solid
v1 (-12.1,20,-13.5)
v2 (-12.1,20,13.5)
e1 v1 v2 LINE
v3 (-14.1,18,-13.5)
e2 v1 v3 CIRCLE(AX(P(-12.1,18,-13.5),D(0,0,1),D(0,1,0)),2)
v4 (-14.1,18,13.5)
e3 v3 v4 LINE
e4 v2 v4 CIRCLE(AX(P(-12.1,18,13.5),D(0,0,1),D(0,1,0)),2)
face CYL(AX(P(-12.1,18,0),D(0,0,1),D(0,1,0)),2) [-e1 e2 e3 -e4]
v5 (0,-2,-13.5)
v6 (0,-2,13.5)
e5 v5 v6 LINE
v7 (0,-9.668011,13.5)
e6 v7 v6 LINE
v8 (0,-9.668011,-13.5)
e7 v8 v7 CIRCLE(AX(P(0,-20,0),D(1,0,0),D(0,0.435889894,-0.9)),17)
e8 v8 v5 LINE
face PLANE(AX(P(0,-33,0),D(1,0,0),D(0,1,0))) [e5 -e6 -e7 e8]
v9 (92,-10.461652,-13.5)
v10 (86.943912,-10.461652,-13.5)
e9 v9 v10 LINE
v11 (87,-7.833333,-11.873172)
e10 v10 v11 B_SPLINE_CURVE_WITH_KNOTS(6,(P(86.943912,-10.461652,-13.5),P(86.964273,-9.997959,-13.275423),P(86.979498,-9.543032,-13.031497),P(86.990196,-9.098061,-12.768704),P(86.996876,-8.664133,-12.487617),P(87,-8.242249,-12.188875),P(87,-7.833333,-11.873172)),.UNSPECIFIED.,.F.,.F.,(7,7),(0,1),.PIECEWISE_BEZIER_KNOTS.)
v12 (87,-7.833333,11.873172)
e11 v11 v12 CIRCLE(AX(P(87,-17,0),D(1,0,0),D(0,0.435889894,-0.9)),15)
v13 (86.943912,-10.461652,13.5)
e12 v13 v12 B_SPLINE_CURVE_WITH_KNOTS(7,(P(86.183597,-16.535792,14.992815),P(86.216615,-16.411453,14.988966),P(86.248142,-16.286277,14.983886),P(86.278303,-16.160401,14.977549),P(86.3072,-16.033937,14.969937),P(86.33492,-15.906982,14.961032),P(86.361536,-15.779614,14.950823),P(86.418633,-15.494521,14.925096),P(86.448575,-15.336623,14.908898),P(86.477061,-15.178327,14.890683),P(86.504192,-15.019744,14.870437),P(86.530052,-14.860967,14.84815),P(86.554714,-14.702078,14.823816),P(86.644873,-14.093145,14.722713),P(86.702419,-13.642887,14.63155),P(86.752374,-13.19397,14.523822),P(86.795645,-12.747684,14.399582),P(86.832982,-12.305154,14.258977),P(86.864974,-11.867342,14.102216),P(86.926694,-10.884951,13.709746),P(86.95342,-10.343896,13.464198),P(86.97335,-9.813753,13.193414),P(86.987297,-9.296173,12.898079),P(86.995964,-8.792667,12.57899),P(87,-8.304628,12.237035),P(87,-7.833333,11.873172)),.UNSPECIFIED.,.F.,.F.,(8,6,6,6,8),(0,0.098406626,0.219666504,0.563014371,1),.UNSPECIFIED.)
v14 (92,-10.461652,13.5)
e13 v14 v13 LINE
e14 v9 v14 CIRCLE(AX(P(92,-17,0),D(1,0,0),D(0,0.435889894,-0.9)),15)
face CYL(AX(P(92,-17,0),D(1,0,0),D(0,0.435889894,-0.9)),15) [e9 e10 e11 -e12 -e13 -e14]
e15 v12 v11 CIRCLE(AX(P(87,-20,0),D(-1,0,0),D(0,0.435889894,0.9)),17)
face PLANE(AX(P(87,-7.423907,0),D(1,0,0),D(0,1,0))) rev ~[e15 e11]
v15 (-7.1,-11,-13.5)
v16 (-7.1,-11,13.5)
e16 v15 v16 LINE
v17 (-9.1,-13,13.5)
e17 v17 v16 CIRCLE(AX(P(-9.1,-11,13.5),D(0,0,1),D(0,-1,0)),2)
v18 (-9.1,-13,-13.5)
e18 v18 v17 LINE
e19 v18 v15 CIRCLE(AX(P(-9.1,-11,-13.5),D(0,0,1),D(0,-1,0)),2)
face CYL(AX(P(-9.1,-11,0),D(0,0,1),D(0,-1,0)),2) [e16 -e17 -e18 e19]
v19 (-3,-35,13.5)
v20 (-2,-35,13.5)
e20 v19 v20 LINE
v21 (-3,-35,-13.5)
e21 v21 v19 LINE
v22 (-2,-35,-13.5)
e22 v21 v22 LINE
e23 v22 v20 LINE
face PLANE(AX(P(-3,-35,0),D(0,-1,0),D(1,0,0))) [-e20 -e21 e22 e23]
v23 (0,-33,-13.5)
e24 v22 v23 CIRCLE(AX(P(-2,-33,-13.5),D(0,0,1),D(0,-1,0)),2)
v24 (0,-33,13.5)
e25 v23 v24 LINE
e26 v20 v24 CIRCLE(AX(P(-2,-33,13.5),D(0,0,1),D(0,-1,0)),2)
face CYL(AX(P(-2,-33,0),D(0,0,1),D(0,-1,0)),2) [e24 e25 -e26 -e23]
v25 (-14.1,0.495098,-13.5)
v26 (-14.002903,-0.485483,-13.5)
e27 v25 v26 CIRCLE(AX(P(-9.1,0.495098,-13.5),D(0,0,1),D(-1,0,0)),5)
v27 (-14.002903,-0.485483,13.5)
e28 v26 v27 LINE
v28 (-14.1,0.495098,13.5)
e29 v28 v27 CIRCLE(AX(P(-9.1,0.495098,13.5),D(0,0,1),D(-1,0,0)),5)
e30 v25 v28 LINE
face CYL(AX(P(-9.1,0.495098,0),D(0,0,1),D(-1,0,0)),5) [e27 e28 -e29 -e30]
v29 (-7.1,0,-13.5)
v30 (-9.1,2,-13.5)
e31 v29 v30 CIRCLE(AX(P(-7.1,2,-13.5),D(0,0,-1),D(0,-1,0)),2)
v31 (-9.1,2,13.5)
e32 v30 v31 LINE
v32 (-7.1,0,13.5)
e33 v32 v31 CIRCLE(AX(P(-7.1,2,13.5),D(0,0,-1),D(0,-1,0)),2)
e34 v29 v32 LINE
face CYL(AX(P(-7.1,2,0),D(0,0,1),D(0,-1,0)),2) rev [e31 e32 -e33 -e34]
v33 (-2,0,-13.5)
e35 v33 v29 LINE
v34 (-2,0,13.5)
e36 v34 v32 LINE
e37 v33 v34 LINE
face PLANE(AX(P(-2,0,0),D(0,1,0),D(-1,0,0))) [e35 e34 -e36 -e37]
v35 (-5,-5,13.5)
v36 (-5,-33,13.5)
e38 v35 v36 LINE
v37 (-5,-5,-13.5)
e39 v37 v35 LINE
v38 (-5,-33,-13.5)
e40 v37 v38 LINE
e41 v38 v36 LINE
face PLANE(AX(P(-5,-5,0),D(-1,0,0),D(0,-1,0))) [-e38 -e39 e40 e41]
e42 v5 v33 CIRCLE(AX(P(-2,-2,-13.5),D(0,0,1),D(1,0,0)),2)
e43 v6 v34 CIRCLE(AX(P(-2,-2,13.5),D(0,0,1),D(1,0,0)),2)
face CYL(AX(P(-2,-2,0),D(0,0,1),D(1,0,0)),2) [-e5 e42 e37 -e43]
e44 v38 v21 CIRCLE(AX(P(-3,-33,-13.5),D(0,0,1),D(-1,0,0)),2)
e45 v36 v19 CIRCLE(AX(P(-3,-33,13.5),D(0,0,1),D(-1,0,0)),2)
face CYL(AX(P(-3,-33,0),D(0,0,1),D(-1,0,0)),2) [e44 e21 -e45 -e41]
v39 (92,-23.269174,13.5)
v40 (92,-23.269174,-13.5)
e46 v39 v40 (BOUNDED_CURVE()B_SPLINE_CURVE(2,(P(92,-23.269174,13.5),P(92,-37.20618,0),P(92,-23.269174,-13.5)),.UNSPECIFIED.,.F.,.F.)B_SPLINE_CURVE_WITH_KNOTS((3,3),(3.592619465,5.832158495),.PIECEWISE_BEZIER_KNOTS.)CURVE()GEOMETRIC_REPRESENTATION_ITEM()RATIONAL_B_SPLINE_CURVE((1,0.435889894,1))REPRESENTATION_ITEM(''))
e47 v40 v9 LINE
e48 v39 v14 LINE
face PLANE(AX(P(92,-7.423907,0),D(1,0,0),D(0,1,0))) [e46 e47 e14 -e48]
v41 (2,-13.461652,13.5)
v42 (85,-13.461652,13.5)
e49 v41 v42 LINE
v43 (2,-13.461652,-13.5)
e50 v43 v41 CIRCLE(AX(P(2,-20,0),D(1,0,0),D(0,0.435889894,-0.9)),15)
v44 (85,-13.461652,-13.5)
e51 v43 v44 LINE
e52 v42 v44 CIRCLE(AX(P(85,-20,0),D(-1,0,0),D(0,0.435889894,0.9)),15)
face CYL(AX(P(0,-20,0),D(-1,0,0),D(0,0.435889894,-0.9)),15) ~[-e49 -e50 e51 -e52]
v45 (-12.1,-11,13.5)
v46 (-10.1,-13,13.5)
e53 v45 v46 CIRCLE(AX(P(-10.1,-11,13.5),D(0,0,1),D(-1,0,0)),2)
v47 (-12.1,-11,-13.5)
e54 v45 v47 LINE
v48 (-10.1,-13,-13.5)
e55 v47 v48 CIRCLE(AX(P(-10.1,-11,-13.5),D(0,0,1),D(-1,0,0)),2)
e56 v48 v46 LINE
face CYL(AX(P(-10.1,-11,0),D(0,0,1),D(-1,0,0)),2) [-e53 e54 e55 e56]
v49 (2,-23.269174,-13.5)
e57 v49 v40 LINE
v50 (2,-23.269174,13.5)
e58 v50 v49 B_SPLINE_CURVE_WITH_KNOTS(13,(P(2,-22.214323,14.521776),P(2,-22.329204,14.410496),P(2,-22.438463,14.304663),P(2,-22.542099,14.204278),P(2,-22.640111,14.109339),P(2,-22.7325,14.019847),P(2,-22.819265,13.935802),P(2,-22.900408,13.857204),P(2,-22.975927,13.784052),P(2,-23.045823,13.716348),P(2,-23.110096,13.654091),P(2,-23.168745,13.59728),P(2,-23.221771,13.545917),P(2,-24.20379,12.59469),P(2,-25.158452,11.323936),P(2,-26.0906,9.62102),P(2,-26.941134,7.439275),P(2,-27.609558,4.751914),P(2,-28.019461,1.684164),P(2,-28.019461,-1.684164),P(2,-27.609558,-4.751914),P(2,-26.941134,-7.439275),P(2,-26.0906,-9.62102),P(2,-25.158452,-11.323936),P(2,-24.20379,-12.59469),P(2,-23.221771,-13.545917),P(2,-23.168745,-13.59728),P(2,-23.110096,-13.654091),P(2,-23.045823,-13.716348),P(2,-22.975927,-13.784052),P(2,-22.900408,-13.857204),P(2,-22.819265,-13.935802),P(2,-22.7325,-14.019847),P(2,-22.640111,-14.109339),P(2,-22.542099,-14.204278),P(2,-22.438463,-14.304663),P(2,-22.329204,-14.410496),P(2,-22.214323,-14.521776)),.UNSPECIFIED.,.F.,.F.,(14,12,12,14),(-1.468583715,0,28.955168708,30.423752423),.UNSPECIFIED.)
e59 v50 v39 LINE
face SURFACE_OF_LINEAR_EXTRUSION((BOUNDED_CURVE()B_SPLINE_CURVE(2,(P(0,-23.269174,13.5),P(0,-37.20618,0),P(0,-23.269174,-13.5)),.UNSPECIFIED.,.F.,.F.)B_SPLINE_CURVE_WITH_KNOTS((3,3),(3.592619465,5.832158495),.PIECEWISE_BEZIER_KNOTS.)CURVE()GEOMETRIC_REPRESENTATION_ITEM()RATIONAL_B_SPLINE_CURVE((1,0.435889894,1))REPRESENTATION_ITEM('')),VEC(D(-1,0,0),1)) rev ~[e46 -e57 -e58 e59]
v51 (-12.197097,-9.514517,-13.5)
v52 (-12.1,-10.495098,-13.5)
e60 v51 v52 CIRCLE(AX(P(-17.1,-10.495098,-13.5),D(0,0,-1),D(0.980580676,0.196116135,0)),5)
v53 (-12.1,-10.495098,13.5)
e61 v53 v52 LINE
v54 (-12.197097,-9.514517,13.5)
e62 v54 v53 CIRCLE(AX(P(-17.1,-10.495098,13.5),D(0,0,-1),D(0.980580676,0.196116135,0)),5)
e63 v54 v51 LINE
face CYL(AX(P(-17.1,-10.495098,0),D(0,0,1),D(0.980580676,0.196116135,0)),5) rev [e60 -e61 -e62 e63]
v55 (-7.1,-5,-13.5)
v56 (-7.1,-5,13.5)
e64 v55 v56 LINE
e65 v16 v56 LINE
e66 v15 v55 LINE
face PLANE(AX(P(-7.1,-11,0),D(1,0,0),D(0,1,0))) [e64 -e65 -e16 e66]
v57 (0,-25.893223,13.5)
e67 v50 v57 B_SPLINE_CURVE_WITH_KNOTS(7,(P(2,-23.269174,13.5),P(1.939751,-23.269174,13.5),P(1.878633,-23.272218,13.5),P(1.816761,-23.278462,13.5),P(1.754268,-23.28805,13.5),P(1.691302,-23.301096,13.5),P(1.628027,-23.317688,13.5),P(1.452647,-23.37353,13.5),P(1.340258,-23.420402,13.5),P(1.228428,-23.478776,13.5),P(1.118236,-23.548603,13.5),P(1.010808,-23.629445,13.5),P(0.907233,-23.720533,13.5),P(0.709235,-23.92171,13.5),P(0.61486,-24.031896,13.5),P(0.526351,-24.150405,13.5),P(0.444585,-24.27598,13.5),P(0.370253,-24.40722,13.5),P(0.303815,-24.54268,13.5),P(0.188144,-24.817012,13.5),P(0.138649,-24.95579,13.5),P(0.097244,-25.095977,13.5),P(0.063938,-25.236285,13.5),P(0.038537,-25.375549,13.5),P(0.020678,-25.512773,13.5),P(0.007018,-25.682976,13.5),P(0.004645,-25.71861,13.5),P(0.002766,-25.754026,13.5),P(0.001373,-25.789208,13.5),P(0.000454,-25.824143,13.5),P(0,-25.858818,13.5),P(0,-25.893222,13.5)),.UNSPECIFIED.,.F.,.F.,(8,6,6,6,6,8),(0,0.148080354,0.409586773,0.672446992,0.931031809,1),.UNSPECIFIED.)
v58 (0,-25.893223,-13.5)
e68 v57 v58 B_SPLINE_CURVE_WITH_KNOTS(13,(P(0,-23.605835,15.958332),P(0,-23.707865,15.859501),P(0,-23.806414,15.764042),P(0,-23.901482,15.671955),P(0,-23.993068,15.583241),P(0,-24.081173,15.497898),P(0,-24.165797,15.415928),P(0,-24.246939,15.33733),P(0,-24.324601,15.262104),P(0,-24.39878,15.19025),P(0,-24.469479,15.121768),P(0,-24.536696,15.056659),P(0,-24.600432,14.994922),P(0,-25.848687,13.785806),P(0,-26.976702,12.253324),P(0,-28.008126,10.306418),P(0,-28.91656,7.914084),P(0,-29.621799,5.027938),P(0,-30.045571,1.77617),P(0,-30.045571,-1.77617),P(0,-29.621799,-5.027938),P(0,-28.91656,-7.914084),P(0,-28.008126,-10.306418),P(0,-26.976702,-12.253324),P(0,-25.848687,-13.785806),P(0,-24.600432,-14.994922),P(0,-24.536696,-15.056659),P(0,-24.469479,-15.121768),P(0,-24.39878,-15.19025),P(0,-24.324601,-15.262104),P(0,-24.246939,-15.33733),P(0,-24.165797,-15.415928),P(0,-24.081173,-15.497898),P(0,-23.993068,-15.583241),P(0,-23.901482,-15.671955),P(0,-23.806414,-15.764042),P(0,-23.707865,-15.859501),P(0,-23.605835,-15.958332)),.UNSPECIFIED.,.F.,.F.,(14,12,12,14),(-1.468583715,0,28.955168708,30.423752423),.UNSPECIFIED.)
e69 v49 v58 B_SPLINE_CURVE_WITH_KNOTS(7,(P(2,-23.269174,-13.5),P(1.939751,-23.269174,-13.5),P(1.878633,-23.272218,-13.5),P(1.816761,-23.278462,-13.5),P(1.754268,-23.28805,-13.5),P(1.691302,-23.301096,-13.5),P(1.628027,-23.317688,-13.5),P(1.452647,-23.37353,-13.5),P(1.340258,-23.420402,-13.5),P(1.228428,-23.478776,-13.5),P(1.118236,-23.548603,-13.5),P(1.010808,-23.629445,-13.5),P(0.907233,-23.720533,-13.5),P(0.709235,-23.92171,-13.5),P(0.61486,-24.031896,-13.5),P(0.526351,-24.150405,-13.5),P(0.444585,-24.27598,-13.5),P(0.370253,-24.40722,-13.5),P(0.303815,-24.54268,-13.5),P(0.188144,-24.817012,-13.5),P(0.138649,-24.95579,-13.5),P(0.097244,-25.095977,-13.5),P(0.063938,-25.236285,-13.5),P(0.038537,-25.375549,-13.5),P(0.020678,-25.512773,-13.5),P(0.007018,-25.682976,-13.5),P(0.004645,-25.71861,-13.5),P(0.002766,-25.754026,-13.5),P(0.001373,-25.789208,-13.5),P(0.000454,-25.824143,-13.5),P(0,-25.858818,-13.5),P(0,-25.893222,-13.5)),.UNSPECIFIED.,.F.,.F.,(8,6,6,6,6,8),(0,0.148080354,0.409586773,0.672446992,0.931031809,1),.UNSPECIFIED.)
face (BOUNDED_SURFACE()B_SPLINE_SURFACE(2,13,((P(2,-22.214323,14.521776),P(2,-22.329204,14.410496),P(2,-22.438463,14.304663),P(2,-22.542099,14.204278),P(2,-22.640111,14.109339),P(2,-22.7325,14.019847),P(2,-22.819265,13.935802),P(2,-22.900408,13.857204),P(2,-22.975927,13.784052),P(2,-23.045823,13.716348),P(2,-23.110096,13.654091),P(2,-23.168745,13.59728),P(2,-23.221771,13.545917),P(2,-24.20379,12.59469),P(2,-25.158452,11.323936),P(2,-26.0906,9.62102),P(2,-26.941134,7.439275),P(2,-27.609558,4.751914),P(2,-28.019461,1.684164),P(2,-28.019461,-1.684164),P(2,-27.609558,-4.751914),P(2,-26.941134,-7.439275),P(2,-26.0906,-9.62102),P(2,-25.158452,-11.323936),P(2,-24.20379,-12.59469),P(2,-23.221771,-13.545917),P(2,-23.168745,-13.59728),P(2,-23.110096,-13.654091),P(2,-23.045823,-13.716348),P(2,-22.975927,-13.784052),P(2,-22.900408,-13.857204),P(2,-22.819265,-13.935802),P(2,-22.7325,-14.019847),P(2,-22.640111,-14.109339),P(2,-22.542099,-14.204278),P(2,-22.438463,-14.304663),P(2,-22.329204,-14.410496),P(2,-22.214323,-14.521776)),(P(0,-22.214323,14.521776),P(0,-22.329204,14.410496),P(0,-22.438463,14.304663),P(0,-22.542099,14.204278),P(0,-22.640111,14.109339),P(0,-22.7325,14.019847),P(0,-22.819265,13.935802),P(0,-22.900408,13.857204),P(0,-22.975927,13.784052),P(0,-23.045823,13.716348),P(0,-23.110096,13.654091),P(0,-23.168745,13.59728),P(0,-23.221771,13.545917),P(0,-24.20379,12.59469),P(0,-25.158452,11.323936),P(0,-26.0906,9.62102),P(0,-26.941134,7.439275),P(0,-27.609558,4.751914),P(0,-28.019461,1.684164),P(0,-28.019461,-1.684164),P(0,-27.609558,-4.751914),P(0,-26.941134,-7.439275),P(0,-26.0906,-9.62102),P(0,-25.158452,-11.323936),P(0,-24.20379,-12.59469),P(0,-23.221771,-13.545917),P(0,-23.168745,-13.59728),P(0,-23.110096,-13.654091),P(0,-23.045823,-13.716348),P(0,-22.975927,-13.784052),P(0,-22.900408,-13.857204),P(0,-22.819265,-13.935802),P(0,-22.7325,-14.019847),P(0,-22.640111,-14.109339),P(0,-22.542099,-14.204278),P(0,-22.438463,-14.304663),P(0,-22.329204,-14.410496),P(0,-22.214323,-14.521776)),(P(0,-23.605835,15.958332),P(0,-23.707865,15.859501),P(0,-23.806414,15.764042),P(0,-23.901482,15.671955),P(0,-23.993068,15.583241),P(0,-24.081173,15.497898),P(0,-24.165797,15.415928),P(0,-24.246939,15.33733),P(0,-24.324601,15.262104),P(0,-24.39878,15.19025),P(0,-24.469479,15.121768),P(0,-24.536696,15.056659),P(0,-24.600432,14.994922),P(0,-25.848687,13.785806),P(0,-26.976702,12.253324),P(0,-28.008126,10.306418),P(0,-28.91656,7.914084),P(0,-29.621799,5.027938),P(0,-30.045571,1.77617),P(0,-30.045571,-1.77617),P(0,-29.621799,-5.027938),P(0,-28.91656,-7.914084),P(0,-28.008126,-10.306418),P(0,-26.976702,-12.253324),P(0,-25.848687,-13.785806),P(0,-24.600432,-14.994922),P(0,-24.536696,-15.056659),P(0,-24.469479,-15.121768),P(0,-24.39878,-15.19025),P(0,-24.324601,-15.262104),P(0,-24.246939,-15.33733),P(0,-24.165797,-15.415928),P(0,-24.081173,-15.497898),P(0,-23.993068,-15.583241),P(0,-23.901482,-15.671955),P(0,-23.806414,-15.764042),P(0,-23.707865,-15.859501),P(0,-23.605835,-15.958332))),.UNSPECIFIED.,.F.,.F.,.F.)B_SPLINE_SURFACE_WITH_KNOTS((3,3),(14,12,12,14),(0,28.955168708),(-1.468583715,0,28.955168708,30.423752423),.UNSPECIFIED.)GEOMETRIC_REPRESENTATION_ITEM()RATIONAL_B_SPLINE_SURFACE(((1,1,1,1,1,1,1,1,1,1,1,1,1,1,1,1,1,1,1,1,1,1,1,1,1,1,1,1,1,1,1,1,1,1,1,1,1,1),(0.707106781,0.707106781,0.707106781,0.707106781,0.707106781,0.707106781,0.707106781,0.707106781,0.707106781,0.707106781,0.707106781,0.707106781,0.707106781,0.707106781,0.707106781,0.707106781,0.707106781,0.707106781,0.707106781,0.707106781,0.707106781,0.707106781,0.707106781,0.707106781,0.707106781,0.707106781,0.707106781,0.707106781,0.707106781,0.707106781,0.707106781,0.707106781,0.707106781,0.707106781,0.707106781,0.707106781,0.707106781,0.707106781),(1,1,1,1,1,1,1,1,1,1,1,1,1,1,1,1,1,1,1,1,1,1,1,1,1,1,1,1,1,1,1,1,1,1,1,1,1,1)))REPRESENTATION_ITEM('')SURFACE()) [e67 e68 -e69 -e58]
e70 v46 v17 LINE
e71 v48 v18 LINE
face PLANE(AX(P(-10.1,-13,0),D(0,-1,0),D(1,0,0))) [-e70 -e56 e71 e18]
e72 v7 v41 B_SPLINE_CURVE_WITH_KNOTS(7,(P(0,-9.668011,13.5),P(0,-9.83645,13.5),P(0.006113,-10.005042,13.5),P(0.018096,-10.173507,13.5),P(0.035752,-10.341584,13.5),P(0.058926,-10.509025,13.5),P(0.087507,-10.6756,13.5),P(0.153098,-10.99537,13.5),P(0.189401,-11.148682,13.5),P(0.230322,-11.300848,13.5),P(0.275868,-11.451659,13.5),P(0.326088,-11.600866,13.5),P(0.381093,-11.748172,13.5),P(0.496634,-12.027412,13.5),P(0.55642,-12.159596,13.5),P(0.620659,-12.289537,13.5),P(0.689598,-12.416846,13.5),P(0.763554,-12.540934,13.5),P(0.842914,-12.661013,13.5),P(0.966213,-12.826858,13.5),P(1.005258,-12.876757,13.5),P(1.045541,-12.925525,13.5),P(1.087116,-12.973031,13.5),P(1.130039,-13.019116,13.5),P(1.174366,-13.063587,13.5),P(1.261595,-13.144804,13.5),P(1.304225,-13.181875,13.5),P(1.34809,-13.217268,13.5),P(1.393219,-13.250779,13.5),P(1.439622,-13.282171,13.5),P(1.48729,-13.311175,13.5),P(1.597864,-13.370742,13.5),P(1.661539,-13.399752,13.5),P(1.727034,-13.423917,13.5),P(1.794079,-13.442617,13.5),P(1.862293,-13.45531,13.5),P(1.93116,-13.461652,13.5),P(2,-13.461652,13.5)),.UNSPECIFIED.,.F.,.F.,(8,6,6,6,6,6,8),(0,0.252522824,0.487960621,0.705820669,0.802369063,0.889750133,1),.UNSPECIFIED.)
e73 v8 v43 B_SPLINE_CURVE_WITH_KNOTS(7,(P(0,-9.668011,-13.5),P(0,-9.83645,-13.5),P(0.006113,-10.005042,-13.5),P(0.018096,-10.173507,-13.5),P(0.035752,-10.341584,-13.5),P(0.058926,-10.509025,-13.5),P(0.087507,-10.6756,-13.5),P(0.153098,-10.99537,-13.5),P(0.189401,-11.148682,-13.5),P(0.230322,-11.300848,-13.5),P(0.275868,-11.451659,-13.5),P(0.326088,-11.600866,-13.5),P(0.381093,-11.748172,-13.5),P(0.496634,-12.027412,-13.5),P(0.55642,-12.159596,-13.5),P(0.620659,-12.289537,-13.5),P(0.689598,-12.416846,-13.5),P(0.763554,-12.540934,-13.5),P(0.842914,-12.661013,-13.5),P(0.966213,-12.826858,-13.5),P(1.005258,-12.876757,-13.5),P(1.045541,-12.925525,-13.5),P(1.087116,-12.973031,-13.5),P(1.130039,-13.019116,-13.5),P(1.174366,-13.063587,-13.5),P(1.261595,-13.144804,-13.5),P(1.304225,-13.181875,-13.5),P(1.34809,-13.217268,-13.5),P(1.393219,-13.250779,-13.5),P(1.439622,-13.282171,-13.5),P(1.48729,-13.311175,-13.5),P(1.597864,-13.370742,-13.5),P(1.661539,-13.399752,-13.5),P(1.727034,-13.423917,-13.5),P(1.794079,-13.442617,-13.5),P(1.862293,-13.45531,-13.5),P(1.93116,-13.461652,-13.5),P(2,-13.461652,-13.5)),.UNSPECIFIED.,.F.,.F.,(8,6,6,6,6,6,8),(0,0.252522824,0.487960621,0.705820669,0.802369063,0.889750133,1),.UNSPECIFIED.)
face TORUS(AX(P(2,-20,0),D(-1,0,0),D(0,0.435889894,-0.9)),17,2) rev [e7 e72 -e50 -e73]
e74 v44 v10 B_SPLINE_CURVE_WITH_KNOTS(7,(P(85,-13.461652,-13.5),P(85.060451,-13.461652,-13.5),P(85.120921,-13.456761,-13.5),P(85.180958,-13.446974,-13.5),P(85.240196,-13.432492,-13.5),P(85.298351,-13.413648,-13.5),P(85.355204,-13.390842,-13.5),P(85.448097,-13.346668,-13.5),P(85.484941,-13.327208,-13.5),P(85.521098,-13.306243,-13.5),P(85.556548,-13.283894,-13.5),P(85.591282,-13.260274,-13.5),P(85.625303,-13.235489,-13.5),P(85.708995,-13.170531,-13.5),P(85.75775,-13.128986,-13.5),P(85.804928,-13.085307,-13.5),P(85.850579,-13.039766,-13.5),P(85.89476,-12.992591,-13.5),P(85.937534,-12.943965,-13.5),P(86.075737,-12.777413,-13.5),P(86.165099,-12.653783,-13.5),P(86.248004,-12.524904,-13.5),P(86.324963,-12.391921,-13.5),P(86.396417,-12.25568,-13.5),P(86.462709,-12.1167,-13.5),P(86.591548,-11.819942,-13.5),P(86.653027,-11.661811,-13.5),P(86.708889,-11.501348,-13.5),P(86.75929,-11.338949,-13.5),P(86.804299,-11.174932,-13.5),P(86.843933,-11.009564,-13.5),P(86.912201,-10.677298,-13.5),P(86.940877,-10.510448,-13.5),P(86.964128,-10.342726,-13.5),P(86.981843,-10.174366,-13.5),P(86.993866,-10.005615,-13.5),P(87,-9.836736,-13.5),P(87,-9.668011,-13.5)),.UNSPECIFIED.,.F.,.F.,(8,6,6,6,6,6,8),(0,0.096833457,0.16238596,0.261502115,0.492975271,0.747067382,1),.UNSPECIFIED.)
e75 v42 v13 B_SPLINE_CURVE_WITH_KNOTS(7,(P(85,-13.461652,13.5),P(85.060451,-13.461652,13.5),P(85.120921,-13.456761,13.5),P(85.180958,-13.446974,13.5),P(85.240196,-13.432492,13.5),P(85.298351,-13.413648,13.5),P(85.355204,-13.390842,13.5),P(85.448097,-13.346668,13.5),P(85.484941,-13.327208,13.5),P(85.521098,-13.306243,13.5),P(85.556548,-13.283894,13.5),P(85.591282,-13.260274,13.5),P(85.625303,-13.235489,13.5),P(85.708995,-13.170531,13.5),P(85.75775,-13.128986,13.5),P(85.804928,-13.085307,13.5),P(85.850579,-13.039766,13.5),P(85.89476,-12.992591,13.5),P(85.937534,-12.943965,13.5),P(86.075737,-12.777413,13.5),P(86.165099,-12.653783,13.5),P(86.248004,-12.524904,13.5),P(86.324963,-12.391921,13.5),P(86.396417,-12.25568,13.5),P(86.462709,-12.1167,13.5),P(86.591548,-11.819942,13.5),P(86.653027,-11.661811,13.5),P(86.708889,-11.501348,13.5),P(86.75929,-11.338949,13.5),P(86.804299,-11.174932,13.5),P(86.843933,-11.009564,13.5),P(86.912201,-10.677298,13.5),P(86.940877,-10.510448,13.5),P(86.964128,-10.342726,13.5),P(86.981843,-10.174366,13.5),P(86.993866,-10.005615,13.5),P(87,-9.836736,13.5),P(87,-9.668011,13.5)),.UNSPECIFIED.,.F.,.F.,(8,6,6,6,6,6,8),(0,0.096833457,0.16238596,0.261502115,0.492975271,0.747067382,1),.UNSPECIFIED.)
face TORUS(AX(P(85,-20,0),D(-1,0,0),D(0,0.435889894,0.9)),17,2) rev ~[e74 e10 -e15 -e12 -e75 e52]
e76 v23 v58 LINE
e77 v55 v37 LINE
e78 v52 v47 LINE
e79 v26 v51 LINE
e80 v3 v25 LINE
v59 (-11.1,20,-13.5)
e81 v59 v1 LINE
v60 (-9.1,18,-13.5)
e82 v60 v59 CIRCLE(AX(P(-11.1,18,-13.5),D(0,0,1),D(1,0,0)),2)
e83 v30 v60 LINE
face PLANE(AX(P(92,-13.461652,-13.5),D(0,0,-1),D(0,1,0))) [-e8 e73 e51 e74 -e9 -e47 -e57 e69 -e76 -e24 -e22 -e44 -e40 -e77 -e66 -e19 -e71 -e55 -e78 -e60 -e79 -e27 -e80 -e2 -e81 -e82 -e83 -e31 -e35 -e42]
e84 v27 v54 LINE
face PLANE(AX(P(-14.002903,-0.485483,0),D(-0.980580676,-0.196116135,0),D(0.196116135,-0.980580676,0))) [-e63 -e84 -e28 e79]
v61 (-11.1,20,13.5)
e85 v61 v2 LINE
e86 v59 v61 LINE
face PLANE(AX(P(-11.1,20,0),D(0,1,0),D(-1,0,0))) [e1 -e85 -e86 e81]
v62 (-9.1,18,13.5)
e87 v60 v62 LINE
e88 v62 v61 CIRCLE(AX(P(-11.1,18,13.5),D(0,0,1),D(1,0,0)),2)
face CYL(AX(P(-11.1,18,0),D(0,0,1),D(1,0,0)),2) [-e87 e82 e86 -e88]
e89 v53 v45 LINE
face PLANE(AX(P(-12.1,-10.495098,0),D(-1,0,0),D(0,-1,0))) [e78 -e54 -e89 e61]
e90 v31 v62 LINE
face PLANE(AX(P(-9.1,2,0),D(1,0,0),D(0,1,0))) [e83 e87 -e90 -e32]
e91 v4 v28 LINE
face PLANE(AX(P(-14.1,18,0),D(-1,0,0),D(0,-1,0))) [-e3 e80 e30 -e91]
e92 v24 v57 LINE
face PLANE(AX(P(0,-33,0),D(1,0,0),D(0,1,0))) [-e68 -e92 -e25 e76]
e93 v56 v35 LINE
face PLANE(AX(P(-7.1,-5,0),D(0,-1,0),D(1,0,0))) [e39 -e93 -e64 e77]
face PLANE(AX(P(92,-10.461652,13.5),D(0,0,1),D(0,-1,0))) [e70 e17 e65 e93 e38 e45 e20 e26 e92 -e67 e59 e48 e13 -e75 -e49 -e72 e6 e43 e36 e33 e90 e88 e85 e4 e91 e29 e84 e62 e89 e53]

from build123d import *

# Parameters (mm, degrees)
F3_DEPTH = 13.5
F5_DEPTH = 92
F7_DEPTH = 5
F8_R     = 2


with BuildPart() as f3:
    # F2 (on Top) → F3 (new body, symmetric)
    with BuildSketch(Plane.XY):
        with BuildLine():
            ThreePointArc((-12.1, -11), (-11.5142135624, -12.4142135624), (-10.1, -13))
            Line((-10.1, -13), (-9.1, -13))
            ThreePointArc((-9.1, -13), (-7.6857864376, -12.4142135624), (-7.1, -11))
            Line((-7.1, -11), (-7.1, -5))
            Line((-7.1, -5), (-5, -5))
            Line((-5, -5), (-5, -33))
            ThreePointArc((-5, -33), (-4.4142135624, -34.4142135624), (-3, -35))
            Line((-3, -35), (-2, -35))
            ThreePointArc((-2, -35), (-0.5857864376, -34.4142135624), (0, -33))
            Line((0, -33), (0, -2))
            ThreePointArc((0, -2), (-0.5857864376, -0.5857864376), (-2, 0))
            Line((-2, 0), (-7.1, 0))
            ThreePointArc((-7.1, 0), (-8.5142135624, 0.5857864376), (-9.1, 2))
            Line((-9.1, 2), (-9.1, 18))
            ThreePointArc((-9.1, 18), (-9.6857864376, 19.4142135624), (-11.1, 20))
            Line((-11.1, 20), (-12.1, 20))
            ThreePointArc((-12.1, 20), (-13.5142135624, 19.4142135624), (-14.1, 18))
            Line((-14.1, 18), (-14.1, 0.495097568))
            ThreePointArc((-14.1, 0.495097568), (-14.0756666333, 0.0024094781), (-14.0029033785, -0.4854831077))
            Line((-14.0029033785, -0.4854831077), (-12.1970966215, -9.5145168923))
            ThreePointArc((-12.1970966215, -9.5145168923), (-12.1243333667, -10.0024094781), (-12.1, -10.495097568))
            Line((-12.1, -10.495097568), (-12.1, -11))
        make_face()
    extrude(amount=F3_DEPTH, both=True)

    # F4 (on face) → F5 (join)
    with BuildSketch(Plane.YZ):
        with BuildLine():
            Line((-23.2691742077, -13.5), (-16.7308257923, -13.5))
            add(Edge.make_bspline(
                [(-16.7308257923, -13.5), (-2.7938199597, 0), (-16.7308257923, 13.5)],
                knots=[0.4510268118, 0.4510268118, 0.4510268118, 2.6905658418, 2.6905658418, 2.6905658418], degree=2, weights=[1, 0.4358898944, 1]))
            Line((-16.7308257923, 13.5), (-23.2691742077, 13.5))
            add(Edge.make_bspline(
                [(-23.2691742077, 13.5), (-37.2061800403, 0), (-23.2691742077, -13.5)],
                knots=[3.5926194654, 3.5926194654, 3.5926194654, 5.8321584954, 5.8321584954, 5.8321584954], degree=2, weights=[1, 0.4358898944, 1]))
        make_face()
        with BuildLine():
            Line((-16.7308257923, -13.5), (-13.4616515847, -13.5))
            ThreePointArc((-13.4616515847, -13.5), (-5, 0), (-13.4616515847, 13.5))
            Line((-13.4616515847, 13.5), (-16.7308257923, 13.5))
            add(Edge.make_bspline(
                [(-16.7308257923, -13.5), (-2.7938199597, 0), (-16.7308257923, 13.5)],
                knots=[0.4510268118, 0.4510268118, 0.4510268118, 2.6905658418, 2.6905658418, 2.6905658418], degree=2, weights=[1, 0.4358898944, 1]))
        make_face()
    extrude(amount=F5_DEPTH)

    # F6 (on face) → F7 (join)
    with BuildSketch(Plane.YZ.offset(92)):
        with BuildLine():
            Line((-10.4616515847, 13.5), (-13.4616515847, 13.5))
            ThreePointArc((-13.4616515847, 13.5), (-5, 0), (-13.4616515847, -13.5))
            Line((-13.4616515847, -13.5), (-10.4616515847, -13.5))
            ThreePointArc((-10.4616515847, -13.5), (-2, 0), (-10.4616515847, 13.5))
        make_face()
    extrude(amount=-F7_DEPTH)

    # F8
    f8_edges = [f3.edges().sort_by_distance(p)[0] for p in [
        (0, -5, 0),
        (0, -27.5, -0.000816),
        (87, -5, 0),
    ]]
    fillet(f8_edges, radius=F8_R)


solid = f3.part
